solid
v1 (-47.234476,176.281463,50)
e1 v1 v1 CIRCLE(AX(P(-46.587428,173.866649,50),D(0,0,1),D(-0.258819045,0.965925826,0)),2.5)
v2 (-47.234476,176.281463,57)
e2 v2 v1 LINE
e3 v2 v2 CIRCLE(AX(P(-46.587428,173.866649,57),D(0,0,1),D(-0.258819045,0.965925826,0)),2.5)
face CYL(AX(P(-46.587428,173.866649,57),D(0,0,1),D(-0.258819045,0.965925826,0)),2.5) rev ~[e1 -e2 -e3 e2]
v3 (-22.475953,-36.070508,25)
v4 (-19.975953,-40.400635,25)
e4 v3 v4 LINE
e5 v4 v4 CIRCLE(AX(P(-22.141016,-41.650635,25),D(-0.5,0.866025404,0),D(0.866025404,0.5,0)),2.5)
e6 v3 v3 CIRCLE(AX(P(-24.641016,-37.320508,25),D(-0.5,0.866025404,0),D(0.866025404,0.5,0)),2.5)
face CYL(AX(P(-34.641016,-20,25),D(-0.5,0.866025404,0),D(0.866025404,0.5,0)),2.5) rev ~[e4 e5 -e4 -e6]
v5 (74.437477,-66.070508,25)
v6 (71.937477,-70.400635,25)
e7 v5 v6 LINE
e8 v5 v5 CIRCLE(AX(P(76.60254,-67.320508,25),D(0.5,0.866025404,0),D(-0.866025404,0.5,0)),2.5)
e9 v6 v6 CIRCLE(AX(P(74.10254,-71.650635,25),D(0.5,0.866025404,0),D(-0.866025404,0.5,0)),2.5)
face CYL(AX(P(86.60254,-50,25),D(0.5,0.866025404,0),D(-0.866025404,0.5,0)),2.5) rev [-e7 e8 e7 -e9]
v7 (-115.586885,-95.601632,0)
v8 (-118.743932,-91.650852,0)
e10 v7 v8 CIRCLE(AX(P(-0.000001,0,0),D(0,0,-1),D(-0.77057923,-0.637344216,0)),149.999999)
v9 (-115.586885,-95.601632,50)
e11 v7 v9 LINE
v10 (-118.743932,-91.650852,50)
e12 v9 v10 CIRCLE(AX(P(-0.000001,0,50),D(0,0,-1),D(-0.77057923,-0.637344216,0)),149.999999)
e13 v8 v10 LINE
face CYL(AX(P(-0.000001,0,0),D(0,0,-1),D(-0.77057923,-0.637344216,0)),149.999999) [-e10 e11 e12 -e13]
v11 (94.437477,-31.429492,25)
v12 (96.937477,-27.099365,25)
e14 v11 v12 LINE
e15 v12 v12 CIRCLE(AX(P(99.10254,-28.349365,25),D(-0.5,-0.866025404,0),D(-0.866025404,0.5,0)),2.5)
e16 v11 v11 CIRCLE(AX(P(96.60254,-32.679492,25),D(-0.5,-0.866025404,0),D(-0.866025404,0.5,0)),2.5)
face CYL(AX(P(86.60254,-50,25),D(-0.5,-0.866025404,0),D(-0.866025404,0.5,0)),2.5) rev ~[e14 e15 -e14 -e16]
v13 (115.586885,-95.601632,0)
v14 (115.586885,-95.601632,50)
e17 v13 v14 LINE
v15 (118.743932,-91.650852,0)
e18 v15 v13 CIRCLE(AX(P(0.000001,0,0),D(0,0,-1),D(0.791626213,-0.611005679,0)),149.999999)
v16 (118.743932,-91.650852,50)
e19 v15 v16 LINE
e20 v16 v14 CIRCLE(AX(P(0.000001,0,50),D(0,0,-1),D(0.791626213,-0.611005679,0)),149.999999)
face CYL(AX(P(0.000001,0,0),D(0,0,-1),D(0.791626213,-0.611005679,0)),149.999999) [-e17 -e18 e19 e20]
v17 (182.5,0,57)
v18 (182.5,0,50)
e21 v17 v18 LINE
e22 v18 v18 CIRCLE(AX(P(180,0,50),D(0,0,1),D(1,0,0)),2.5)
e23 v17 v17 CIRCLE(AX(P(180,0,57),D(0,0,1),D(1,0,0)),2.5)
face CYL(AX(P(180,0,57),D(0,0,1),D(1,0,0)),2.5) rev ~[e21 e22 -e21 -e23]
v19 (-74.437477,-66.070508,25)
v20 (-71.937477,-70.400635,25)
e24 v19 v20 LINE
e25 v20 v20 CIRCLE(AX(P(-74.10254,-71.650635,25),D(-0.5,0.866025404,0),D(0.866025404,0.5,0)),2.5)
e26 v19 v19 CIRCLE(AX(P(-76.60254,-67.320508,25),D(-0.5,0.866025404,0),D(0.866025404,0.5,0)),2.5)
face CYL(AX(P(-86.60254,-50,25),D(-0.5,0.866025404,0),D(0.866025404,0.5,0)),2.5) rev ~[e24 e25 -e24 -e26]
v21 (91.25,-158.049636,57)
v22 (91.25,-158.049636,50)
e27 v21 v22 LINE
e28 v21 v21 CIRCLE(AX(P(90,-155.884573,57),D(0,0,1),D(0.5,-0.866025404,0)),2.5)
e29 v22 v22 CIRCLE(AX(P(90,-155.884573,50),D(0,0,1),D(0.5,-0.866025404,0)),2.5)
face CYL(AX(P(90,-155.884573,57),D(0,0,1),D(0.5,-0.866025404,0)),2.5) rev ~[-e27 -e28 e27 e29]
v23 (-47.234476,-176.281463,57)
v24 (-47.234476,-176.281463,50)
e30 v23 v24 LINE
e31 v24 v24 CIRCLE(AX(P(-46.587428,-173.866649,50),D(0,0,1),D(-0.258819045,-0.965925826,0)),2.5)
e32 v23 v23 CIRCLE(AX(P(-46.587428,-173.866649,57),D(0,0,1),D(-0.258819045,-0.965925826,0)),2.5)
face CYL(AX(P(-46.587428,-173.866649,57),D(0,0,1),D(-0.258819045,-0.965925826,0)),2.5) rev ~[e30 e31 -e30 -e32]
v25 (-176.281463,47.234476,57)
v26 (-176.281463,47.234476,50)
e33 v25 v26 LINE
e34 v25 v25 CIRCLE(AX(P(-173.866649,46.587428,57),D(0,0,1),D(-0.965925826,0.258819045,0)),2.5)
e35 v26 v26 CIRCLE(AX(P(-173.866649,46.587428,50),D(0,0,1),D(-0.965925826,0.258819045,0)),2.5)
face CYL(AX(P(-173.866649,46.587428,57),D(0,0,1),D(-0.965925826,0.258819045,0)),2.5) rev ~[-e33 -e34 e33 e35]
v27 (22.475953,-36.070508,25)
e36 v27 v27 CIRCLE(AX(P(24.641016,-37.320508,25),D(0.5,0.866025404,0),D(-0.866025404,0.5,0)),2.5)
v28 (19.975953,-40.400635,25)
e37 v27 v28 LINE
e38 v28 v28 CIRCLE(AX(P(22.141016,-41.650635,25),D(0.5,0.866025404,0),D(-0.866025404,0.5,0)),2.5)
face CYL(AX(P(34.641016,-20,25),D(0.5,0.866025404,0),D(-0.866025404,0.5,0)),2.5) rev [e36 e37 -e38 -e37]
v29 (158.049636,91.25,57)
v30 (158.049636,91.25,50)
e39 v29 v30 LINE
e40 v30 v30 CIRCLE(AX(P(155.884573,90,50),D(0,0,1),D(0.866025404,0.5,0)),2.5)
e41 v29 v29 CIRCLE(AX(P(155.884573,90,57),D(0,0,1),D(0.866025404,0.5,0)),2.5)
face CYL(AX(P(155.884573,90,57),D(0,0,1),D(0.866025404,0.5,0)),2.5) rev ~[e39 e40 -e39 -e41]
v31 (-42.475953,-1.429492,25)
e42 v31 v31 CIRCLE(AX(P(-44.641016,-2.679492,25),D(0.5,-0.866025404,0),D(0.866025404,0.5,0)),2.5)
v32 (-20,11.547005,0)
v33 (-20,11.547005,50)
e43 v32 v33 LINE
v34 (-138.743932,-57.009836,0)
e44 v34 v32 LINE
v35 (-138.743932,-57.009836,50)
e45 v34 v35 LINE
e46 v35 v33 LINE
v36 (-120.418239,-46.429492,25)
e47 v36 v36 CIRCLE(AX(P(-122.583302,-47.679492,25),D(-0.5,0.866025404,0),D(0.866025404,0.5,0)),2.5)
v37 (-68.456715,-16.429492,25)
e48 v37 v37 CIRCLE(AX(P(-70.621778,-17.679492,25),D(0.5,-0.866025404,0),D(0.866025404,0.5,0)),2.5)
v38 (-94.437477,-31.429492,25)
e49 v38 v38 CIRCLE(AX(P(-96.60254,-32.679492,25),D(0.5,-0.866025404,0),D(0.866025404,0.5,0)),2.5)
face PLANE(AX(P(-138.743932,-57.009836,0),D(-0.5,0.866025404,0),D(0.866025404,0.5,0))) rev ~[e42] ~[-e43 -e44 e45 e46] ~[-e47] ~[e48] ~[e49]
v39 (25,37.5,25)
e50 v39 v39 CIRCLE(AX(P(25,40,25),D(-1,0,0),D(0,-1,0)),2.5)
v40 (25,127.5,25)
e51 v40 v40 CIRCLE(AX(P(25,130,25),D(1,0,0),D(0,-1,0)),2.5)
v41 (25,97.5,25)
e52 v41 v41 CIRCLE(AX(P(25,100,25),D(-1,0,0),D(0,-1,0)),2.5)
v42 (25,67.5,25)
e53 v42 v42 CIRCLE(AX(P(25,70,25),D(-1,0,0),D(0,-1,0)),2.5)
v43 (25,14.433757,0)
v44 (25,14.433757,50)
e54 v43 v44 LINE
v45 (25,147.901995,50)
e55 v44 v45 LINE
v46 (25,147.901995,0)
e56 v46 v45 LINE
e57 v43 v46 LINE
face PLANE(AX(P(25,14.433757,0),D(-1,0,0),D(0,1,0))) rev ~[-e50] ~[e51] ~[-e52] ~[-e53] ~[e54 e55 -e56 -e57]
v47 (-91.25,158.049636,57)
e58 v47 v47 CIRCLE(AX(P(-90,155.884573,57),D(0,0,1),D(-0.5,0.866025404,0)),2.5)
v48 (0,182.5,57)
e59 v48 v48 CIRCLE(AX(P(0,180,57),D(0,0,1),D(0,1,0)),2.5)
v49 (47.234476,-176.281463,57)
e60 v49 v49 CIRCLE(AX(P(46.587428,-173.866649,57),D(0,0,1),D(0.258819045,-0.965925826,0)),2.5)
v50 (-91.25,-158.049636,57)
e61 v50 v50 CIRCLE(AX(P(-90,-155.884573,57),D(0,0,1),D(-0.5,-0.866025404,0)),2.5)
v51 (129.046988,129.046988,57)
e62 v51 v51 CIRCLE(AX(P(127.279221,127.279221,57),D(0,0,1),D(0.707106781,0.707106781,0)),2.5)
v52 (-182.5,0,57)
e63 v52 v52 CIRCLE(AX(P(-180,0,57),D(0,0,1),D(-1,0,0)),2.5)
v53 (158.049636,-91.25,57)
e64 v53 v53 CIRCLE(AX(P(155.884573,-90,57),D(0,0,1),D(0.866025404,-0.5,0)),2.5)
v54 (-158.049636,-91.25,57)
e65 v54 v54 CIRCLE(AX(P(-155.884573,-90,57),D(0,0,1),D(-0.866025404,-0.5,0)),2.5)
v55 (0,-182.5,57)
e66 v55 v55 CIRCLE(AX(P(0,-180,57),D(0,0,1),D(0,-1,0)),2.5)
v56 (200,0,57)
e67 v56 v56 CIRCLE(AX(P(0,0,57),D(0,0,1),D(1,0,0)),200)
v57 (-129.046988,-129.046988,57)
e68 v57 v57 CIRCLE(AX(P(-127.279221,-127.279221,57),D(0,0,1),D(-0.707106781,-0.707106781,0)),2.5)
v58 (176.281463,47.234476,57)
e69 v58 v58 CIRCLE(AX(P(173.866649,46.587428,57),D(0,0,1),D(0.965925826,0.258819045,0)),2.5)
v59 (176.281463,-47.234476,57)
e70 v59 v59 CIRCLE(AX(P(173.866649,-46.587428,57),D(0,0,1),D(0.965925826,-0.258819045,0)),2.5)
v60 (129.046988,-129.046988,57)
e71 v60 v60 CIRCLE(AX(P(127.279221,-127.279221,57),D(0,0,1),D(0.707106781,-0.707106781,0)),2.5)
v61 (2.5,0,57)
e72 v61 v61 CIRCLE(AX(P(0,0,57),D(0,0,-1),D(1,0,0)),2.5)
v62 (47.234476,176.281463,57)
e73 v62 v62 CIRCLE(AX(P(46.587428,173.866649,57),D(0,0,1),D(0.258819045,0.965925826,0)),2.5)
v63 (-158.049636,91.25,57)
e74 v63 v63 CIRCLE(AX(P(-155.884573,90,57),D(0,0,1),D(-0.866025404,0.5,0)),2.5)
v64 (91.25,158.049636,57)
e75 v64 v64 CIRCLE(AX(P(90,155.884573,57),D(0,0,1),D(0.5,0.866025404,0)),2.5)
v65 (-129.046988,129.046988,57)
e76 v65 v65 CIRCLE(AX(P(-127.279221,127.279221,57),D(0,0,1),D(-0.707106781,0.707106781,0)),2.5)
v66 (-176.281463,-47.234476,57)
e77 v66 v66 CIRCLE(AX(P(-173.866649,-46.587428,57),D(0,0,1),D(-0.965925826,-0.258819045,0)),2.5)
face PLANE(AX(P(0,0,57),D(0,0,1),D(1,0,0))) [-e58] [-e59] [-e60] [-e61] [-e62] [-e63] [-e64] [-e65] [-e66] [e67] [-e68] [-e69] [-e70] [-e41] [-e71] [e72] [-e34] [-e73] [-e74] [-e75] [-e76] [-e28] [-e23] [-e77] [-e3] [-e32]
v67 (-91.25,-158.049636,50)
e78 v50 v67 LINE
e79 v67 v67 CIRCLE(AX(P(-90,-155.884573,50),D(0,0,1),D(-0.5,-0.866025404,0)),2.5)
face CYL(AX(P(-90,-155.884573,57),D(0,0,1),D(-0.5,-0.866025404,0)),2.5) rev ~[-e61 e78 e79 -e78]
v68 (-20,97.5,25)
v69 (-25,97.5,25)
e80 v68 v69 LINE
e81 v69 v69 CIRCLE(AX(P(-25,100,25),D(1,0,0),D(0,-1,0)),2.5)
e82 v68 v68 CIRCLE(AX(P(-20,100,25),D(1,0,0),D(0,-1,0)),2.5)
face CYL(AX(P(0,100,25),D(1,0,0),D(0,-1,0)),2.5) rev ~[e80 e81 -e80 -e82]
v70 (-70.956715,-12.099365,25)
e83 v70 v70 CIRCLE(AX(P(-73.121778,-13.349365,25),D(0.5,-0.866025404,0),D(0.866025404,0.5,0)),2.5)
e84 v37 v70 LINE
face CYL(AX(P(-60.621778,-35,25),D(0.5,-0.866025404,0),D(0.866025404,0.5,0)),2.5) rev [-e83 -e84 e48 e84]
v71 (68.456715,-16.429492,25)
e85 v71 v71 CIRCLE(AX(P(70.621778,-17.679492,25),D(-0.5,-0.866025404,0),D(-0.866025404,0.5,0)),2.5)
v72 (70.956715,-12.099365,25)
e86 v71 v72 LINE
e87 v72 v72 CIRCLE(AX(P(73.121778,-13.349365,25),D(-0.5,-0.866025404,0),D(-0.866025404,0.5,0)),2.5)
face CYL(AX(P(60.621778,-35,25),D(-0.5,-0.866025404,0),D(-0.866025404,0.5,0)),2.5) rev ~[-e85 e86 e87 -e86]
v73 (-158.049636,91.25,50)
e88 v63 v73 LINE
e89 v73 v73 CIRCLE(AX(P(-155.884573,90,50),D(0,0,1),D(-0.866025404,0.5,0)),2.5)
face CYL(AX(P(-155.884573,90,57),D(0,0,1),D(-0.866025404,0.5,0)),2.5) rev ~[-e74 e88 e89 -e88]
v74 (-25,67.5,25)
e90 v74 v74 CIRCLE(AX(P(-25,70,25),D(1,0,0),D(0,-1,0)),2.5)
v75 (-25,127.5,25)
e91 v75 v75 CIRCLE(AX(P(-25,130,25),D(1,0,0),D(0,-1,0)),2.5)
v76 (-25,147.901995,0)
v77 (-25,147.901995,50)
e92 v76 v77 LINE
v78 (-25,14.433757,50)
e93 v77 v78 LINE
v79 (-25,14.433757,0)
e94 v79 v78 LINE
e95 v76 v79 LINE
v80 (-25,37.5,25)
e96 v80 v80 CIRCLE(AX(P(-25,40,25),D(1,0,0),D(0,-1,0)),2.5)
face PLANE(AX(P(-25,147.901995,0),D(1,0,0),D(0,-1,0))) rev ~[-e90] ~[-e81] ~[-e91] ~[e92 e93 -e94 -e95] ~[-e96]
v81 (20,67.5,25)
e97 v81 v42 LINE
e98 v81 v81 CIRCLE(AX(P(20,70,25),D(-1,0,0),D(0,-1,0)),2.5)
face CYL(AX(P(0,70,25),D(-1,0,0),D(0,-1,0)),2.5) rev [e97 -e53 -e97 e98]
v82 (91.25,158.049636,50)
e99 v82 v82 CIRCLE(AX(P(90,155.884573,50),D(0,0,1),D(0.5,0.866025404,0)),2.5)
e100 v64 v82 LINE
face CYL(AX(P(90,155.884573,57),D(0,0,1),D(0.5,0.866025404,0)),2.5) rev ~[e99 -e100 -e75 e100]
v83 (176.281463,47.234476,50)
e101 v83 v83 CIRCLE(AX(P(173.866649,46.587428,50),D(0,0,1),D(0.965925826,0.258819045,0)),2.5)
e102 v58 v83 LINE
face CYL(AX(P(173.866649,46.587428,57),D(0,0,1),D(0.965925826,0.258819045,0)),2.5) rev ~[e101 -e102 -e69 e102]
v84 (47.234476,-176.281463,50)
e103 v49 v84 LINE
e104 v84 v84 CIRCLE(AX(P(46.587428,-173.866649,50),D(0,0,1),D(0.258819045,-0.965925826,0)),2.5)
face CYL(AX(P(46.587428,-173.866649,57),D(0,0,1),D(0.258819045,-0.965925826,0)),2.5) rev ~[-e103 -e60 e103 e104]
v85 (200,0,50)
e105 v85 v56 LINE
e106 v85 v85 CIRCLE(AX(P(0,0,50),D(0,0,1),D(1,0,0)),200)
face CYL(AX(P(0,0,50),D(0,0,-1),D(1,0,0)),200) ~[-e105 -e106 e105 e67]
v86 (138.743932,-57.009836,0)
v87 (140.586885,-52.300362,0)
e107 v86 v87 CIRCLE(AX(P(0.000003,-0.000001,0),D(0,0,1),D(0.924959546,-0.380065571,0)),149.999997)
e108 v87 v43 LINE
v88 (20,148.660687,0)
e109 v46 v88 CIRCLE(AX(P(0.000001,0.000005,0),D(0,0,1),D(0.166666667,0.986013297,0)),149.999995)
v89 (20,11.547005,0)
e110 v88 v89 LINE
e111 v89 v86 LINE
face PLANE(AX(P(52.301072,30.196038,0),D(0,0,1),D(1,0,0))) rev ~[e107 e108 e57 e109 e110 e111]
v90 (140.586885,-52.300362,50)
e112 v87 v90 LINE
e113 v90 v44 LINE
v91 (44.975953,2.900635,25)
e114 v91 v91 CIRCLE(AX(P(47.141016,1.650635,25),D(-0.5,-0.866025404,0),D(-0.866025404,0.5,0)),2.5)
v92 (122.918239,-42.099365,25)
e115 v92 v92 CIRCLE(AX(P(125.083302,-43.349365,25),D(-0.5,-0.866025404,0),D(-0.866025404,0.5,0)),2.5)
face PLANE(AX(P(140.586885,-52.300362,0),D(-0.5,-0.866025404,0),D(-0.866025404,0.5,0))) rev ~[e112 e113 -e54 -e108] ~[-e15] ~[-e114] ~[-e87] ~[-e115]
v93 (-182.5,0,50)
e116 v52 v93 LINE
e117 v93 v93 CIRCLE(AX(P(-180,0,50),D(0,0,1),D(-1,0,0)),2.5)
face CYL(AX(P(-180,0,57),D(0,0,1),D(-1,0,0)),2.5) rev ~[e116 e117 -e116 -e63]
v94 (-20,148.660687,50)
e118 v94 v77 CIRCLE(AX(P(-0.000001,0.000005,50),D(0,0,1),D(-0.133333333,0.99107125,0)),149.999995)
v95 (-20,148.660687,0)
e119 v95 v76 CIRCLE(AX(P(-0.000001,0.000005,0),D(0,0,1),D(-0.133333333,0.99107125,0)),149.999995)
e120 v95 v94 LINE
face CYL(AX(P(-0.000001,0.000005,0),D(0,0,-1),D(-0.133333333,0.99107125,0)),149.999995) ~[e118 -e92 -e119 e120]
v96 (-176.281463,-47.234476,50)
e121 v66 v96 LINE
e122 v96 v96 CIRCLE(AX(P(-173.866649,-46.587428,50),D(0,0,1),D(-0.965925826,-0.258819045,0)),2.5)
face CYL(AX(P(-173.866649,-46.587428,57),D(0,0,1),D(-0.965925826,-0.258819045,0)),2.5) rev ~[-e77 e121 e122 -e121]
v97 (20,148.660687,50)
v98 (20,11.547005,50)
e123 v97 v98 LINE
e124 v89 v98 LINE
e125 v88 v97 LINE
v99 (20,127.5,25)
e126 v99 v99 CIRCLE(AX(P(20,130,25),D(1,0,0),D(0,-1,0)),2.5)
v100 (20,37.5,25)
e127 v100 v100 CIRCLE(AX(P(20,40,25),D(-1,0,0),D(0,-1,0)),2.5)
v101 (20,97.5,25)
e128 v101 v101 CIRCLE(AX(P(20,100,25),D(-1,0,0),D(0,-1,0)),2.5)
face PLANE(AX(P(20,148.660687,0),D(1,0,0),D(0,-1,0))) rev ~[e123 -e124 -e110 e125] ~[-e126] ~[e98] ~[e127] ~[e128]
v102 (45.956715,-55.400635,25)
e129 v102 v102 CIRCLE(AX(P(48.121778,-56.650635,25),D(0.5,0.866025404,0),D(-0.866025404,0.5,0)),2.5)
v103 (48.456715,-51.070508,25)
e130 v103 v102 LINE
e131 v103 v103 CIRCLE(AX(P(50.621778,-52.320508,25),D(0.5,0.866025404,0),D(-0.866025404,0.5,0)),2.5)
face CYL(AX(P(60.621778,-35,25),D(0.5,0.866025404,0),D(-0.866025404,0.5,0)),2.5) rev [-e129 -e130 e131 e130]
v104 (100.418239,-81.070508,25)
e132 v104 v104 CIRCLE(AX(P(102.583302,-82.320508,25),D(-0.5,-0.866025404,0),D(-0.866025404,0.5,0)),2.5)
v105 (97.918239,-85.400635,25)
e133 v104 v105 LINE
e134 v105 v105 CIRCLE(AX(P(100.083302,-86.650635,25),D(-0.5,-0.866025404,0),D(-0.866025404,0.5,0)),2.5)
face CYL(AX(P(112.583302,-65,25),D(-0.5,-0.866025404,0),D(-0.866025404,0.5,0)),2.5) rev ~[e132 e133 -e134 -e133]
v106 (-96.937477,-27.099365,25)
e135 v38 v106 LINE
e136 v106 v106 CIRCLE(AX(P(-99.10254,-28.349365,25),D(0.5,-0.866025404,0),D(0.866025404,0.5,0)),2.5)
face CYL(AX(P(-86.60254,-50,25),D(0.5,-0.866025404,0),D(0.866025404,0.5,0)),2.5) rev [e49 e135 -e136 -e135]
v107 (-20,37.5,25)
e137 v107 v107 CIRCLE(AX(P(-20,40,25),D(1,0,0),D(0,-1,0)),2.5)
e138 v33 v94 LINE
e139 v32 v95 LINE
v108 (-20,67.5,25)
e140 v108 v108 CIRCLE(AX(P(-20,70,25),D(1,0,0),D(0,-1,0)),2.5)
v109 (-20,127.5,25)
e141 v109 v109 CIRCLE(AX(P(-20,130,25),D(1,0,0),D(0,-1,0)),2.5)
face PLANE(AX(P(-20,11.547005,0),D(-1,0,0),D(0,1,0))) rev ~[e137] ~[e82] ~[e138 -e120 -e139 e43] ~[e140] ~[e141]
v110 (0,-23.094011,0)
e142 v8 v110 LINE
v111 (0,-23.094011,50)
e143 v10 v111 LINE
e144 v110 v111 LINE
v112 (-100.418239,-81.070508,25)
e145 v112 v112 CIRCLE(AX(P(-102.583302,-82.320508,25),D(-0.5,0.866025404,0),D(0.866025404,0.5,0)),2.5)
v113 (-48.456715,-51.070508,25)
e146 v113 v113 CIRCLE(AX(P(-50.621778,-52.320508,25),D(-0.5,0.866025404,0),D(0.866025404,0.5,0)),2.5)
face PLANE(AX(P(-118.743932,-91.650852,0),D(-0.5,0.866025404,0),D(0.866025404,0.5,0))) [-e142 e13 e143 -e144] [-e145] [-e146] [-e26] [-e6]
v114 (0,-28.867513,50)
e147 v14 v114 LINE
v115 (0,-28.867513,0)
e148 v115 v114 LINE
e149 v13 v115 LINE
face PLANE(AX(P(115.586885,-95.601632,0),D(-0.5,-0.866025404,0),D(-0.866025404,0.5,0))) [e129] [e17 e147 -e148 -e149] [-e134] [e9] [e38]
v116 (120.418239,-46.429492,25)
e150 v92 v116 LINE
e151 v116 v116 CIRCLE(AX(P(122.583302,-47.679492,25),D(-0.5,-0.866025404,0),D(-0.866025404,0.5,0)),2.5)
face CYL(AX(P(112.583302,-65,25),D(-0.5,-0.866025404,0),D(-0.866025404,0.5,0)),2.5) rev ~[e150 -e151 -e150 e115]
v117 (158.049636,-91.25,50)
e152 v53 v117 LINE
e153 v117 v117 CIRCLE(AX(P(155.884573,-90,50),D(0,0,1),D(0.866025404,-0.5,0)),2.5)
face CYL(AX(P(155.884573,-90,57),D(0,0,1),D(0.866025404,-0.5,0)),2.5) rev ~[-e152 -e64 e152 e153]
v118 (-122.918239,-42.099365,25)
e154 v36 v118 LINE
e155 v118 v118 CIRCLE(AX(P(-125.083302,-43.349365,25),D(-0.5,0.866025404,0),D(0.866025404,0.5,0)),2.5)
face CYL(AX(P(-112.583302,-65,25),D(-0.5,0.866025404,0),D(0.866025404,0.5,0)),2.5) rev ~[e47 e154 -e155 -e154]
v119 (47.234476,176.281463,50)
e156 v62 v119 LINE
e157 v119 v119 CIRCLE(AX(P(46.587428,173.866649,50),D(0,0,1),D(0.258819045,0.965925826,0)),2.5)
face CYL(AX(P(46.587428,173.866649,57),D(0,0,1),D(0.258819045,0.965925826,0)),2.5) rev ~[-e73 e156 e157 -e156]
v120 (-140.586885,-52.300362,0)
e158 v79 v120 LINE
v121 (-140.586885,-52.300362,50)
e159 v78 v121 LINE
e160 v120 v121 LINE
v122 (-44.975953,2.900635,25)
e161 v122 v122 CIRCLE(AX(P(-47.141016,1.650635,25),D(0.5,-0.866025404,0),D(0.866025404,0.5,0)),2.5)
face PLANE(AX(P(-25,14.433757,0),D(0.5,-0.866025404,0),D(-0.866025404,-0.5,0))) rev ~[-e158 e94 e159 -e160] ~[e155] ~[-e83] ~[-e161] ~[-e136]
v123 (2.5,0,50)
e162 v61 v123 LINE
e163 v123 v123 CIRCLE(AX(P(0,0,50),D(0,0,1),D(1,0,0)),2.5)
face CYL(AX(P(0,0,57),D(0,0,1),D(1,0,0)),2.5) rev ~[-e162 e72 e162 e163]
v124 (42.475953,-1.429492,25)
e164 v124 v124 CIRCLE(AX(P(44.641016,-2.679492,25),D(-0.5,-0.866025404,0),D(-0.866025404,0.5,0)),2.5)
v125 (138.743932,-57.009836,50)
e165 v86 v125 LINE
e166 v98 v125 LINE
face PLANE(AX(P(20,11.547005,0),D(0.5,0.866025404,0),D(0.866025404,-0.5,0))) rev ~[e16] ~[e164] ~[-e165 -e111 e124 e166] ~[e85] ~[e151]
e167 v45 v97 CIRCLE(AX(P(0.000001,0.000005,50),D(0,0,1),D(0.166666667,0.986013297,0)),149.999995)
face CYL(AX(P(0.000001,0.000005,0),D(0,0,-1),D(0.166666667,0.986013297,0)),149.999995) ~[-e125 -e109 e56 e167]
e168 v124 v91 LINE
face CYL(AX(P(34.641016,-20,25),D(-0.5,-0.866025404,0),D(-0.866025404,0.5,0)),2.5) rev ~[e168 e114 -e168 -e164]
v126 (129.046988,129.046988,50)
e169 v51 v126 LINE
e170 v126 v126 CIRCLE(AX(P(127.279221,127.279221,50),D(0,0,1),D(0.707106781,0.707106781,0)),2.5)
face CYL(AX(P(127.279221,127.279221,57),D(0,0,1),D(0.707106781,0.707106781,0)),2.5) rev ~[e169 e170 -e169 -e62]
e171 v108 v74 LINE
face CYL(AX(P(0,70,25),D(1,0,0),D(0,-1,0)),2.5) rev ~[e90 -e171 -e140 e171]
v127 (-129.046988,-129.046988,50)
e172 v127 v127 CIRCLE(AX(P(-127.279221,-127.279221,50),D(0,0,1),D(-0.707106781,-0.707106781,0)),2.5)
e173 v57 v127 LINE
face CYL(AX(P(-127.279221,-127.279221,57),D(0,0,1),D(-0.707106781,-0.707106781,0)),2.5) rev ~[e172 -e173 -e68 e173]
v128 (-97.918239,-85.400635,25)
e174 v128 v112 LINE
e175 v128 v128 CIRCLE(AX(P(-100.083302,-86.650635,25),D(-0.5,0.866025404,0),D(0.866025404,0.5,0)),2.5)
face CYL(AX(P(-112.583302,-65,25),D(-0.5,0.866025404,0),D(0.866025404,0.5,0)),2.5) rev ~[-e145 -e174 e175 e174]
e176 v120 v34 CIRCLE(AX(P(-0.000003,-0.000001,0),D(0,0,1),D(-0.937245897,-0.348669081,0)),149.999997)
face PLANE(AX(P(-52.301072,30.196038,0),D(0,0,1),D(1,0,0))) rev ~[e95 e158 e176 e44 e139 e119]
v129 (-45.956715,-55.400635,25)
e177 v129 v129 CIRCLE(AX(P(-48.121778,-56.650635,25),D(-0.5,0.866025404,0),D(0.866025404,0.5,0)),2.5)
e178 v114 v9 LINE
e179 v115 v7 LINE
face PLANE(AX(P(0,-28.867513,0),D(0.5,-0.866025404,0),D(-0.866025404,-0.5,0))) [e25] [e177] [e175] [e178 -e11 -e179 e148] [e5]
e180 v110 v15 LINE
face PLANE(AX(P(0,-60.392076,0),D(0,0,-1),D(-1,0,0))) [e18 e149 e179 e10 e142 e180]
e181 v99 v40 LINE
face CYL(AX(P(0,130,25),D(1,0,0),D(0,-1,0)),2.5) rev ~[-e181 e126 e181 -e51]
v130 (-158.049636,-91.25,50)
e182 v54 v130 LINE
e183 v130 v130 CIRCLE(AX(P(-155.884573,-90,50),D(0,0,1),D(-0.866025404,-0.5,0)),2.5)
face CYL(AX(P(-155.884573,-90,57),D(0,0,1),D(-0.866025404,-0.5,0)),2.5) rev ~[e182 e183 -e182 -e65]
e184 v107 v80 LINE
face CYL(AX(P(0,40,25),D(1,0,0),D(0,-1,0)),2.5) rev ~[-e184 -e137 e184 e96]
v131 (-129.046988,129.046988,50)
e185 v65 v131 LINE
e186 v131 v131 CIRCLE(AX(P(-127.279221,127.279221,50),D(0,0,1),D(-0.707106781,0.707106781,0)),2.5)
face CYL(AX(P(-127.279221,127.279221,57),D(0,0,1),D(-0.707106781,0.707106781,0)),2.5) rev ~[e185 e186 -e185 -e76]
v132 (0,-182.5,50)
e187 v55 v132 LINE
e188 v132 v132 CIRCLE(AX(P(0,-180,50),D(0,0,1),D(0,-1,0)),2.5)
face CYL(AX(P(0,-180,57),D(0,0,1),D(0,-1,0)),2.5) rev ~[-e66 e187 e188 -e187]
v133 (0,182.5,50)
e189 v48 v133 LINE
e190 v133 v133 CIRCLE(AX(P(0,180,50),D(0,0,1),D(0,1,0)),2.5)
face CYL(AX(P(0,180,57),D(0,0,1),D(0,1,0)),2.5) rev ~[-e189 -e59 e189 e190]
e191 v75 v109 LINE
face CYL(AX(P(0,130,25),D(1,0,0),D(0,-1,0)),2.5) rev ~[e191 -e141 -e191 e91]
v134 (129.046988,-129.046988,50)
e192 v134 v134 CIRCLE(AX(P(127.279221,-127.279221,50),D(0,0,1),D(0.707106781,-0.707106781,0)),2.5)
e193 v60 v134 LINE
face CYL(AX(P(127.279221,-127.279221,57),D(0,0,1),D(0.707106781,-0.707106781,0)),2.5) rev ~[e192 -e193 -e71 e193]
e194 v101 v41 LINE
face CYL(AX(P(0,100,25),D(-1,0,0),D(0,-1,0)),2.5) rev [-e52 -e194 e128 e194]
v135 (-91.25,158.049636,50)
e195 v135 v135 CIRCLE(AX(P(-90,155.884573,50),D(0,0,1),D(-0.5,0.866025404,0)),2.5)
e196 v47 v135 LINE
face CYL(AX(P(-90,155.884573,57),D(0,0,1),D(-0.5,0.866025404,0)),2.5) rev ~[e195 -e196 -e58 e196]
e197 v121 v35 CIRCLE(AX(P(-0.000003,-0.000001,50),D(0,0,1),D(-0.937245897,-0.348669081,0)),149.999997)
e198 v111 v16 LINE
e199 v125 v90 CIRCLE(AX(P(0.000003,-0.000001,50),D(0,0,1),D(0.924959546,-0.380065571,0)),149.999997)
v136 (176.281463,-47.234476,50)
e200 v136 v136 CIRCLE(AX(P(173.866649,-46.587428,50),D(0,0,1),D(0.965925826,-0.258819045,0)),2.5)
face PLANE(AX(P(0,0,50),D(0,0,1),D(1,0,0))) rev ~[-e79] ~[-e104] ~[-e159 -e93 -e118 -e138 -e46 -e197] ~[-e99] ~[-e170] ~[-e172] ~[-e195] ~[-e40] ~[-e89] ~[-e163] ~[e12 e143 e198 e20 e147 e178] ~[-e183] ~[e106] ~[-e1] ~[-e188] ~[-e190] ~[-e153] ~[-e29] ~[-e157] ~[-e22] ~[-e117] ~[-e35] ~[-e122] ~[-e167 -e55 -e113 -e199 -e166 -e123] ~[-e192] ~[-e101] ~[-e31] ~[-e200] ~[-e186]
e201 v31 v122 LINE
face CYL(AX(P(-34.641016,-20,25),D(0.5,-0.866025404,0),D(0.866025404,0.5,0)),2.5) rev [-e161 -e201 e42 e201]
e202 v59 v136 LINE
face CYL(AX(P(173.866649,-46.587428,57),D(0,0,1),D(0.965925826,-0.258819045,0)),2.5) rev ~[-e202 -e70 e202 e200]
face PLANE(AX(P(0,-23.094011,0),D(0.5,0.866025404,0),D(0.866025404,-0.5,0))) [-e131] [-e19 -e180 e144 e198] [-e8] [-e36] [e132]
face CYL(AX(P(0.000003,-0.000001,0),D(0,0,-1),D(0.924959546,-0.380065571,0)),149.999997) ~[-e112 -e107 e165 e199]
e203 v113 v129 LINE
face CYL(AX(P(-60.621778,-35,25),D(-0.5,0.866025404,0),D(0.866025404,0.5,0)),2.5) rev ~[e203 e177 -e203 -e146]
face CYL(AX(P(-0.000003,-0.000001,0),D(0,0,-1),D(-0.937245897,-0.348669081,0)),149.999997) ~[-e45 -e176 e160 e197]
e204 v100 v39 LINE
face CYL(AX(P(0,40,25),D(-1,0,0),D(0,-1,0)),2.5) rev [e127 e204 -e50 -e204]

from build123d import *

# Parameters (mm, degrees)
BOSS_EXTRUDE2_DEPTH   = 50
BOSS_EXTRUDE2_2_DEPTH = 50
BOSS_EXTRUDE2_3_DEPTH = 50
SKETCH3_R             = 200
BOSS_EXTRUDE3_DEPTH   = 7
SKETCH4_R             = 2.5
CUT_EXTRUDE1_DEPTH    = 170
CIRPATTERN1_COUNT     = 3
SKETCH5_R             = 2.5
CUT_EXTRUDE2_DEPTH    = 170
CIRPATTERN2_COUNT     = 24


with BuildPart() as part:
    # Sketch2 → Boss-Extrude2 (new body)
    with BuildSketch(Plane.XY):
        with BuildLine():
            Line((0, -23.094010768), (118.743931896, -91.650851812))
            ThreePointArc((118.743931896, -91.650851812), (117.182059436, -93.639547982), (115.586884574, -95.601632383))
            Line((115.586884574, -95.601632383), (0, -28.867513459))
            Line((0, -28.867513459), (-115.586884574, -95.601632383))
            ThreePointArc((-115.586884574, -95.601632383), (-117.182059436, -93.639547982), (-118.743931896, -91.650851812))
            Line((-118.743931896, -91.650851812), (0, -23.094010768))
        make_face()
    extrude(amount=BOSS_EXTRUDE2_DEPTH)



with BuildPart() as body_2:
    # Sketch2 → Boss-Extrude2 2 (new body)
    with BuildSketch(Plane.XY):
        with BuildLine():
            Line((20, 11.547005384), (138.743931896, -57.009835661))
            ThreePointArc((138.743931896, -57.009835661), (139.68525707, -54.662866348), (140.586884574, -52.300362194))
            Line((140.586884574, -52.300362194), (25, 14.43375673))
            Line((25, 14.43375673), (25, 147.901994577))
            ThreePointArc((25, 147.901994577), (22.503197633, 148.302414331), (20, 148.660687473))
            Line((20, 148.660687473), (20, 11.547005384))
        make_face()
    extrude(amount=BOSS_EXTRUDE2_2_DEPTH)


with BuildPart() as body_3:
    # Sketch2 → Boss-Extrude2 3 (new body)
    with BuildSketch(Plane.XY):
        with BuildLine():
            Line((-20, 11.547005384), (-20, 148.660687473))
            ThreePointArc((-20, 148.660687473), (-22.503197633, 148.302414331), (-25, 147.901994577))
            Line((-25, 147.901994577), (-25, 14.43375673))
            Line((-25, 14.43375673), (-140.586884574, -52.300362194))
            ThreePointArc((-140.586884574, -52.300362194), (-139.68525707, -54.662866348), (-138.743931896, -57.009835661))
            Line((-138.743931896, -57.009835661), (-20, 11.547005384))
        make_face()
    extrude(amount=BOSS_EXTRUDE2_3_DEPTH)


with BuildPart() as part_1:
    add(part.part)

    add(body_2.part)  # Boss-Extrude3 merges body 2

    add(body_3.part)  # Boss-Extrude3 merges body 3
    # Sketch3 → Boss-Extrude3 (add)
    with BuildSketch(Plane.XY.offset(50)):
        Circle(SKETCH3_R)
    extrude(amount=BOSS_EXTRUDE3_DEPTH)

    # Sketch4 → Cut-Extrude1 (cut, symmetric)
    with BuildSketch(Plane(origin=(0, 0, 0), x_dir=(0, 0, -1), z_dir=(1, 0, 0))):
        with Locations(Location((-25, 40, 0), (0, 0, 270))):
            Circle(SKETCH4_R)
        with Locations(Location((-25, 70, 0), (0, 0, 270))):
            Circle(SKETCH4_R)
        with Locations(Location((-25, 100, 0), (0, 0, 270))):
            Circle(SKETCH4_R)
        with Locations(Location((-25, 130, 0), (0, 0, 270))):
            Circle(SKETCH4_R)
    cut_extrude1 = extrude(amount=CUT_EXTRUDE1_DEPTH, both=True, mode=Mode.SUBTRACT)

    # CirPattern1: Cut-Extrude1 ×3 about axis
    cirpattern1_axis = Axis((0, 0, 50), (0, 0, 1))
    for i in range(1, CIRPATTERN1_COUNT):
        add(cut_extrude1.rotate(cirpattern1_axis, i * 360 / CIRPATTERN1_COUNT), mode=Mode.SUBTRACT)

    # Sketch5 → Cut-Extrude2 (cut)
    with BuildSketch(Plane.XY.offset(57)):
        Circle(SKETCH5_R)
        with Locations((180, 0)):
            Circle(SKETCH5_R)
    cut_extrude2 = extrude(amount=-CUT_EXTRUDE2_DEPTH, mode=Mode.SUBTRACT)

    # CirPattern2: Cut-Extrude2 ×24 about axis
    cirpattern2_axis = Axis((0, 0, 0), (0, 0, 1))
    for i in range(1, CIRPATTERN2_COUNT):
        add(cut_extrude2.rotate(cirpattern2_axis, i * 360 / CIRPATTERN2_COUNT), mode=Mode.SUBTRACT)


solid = part_1.part
